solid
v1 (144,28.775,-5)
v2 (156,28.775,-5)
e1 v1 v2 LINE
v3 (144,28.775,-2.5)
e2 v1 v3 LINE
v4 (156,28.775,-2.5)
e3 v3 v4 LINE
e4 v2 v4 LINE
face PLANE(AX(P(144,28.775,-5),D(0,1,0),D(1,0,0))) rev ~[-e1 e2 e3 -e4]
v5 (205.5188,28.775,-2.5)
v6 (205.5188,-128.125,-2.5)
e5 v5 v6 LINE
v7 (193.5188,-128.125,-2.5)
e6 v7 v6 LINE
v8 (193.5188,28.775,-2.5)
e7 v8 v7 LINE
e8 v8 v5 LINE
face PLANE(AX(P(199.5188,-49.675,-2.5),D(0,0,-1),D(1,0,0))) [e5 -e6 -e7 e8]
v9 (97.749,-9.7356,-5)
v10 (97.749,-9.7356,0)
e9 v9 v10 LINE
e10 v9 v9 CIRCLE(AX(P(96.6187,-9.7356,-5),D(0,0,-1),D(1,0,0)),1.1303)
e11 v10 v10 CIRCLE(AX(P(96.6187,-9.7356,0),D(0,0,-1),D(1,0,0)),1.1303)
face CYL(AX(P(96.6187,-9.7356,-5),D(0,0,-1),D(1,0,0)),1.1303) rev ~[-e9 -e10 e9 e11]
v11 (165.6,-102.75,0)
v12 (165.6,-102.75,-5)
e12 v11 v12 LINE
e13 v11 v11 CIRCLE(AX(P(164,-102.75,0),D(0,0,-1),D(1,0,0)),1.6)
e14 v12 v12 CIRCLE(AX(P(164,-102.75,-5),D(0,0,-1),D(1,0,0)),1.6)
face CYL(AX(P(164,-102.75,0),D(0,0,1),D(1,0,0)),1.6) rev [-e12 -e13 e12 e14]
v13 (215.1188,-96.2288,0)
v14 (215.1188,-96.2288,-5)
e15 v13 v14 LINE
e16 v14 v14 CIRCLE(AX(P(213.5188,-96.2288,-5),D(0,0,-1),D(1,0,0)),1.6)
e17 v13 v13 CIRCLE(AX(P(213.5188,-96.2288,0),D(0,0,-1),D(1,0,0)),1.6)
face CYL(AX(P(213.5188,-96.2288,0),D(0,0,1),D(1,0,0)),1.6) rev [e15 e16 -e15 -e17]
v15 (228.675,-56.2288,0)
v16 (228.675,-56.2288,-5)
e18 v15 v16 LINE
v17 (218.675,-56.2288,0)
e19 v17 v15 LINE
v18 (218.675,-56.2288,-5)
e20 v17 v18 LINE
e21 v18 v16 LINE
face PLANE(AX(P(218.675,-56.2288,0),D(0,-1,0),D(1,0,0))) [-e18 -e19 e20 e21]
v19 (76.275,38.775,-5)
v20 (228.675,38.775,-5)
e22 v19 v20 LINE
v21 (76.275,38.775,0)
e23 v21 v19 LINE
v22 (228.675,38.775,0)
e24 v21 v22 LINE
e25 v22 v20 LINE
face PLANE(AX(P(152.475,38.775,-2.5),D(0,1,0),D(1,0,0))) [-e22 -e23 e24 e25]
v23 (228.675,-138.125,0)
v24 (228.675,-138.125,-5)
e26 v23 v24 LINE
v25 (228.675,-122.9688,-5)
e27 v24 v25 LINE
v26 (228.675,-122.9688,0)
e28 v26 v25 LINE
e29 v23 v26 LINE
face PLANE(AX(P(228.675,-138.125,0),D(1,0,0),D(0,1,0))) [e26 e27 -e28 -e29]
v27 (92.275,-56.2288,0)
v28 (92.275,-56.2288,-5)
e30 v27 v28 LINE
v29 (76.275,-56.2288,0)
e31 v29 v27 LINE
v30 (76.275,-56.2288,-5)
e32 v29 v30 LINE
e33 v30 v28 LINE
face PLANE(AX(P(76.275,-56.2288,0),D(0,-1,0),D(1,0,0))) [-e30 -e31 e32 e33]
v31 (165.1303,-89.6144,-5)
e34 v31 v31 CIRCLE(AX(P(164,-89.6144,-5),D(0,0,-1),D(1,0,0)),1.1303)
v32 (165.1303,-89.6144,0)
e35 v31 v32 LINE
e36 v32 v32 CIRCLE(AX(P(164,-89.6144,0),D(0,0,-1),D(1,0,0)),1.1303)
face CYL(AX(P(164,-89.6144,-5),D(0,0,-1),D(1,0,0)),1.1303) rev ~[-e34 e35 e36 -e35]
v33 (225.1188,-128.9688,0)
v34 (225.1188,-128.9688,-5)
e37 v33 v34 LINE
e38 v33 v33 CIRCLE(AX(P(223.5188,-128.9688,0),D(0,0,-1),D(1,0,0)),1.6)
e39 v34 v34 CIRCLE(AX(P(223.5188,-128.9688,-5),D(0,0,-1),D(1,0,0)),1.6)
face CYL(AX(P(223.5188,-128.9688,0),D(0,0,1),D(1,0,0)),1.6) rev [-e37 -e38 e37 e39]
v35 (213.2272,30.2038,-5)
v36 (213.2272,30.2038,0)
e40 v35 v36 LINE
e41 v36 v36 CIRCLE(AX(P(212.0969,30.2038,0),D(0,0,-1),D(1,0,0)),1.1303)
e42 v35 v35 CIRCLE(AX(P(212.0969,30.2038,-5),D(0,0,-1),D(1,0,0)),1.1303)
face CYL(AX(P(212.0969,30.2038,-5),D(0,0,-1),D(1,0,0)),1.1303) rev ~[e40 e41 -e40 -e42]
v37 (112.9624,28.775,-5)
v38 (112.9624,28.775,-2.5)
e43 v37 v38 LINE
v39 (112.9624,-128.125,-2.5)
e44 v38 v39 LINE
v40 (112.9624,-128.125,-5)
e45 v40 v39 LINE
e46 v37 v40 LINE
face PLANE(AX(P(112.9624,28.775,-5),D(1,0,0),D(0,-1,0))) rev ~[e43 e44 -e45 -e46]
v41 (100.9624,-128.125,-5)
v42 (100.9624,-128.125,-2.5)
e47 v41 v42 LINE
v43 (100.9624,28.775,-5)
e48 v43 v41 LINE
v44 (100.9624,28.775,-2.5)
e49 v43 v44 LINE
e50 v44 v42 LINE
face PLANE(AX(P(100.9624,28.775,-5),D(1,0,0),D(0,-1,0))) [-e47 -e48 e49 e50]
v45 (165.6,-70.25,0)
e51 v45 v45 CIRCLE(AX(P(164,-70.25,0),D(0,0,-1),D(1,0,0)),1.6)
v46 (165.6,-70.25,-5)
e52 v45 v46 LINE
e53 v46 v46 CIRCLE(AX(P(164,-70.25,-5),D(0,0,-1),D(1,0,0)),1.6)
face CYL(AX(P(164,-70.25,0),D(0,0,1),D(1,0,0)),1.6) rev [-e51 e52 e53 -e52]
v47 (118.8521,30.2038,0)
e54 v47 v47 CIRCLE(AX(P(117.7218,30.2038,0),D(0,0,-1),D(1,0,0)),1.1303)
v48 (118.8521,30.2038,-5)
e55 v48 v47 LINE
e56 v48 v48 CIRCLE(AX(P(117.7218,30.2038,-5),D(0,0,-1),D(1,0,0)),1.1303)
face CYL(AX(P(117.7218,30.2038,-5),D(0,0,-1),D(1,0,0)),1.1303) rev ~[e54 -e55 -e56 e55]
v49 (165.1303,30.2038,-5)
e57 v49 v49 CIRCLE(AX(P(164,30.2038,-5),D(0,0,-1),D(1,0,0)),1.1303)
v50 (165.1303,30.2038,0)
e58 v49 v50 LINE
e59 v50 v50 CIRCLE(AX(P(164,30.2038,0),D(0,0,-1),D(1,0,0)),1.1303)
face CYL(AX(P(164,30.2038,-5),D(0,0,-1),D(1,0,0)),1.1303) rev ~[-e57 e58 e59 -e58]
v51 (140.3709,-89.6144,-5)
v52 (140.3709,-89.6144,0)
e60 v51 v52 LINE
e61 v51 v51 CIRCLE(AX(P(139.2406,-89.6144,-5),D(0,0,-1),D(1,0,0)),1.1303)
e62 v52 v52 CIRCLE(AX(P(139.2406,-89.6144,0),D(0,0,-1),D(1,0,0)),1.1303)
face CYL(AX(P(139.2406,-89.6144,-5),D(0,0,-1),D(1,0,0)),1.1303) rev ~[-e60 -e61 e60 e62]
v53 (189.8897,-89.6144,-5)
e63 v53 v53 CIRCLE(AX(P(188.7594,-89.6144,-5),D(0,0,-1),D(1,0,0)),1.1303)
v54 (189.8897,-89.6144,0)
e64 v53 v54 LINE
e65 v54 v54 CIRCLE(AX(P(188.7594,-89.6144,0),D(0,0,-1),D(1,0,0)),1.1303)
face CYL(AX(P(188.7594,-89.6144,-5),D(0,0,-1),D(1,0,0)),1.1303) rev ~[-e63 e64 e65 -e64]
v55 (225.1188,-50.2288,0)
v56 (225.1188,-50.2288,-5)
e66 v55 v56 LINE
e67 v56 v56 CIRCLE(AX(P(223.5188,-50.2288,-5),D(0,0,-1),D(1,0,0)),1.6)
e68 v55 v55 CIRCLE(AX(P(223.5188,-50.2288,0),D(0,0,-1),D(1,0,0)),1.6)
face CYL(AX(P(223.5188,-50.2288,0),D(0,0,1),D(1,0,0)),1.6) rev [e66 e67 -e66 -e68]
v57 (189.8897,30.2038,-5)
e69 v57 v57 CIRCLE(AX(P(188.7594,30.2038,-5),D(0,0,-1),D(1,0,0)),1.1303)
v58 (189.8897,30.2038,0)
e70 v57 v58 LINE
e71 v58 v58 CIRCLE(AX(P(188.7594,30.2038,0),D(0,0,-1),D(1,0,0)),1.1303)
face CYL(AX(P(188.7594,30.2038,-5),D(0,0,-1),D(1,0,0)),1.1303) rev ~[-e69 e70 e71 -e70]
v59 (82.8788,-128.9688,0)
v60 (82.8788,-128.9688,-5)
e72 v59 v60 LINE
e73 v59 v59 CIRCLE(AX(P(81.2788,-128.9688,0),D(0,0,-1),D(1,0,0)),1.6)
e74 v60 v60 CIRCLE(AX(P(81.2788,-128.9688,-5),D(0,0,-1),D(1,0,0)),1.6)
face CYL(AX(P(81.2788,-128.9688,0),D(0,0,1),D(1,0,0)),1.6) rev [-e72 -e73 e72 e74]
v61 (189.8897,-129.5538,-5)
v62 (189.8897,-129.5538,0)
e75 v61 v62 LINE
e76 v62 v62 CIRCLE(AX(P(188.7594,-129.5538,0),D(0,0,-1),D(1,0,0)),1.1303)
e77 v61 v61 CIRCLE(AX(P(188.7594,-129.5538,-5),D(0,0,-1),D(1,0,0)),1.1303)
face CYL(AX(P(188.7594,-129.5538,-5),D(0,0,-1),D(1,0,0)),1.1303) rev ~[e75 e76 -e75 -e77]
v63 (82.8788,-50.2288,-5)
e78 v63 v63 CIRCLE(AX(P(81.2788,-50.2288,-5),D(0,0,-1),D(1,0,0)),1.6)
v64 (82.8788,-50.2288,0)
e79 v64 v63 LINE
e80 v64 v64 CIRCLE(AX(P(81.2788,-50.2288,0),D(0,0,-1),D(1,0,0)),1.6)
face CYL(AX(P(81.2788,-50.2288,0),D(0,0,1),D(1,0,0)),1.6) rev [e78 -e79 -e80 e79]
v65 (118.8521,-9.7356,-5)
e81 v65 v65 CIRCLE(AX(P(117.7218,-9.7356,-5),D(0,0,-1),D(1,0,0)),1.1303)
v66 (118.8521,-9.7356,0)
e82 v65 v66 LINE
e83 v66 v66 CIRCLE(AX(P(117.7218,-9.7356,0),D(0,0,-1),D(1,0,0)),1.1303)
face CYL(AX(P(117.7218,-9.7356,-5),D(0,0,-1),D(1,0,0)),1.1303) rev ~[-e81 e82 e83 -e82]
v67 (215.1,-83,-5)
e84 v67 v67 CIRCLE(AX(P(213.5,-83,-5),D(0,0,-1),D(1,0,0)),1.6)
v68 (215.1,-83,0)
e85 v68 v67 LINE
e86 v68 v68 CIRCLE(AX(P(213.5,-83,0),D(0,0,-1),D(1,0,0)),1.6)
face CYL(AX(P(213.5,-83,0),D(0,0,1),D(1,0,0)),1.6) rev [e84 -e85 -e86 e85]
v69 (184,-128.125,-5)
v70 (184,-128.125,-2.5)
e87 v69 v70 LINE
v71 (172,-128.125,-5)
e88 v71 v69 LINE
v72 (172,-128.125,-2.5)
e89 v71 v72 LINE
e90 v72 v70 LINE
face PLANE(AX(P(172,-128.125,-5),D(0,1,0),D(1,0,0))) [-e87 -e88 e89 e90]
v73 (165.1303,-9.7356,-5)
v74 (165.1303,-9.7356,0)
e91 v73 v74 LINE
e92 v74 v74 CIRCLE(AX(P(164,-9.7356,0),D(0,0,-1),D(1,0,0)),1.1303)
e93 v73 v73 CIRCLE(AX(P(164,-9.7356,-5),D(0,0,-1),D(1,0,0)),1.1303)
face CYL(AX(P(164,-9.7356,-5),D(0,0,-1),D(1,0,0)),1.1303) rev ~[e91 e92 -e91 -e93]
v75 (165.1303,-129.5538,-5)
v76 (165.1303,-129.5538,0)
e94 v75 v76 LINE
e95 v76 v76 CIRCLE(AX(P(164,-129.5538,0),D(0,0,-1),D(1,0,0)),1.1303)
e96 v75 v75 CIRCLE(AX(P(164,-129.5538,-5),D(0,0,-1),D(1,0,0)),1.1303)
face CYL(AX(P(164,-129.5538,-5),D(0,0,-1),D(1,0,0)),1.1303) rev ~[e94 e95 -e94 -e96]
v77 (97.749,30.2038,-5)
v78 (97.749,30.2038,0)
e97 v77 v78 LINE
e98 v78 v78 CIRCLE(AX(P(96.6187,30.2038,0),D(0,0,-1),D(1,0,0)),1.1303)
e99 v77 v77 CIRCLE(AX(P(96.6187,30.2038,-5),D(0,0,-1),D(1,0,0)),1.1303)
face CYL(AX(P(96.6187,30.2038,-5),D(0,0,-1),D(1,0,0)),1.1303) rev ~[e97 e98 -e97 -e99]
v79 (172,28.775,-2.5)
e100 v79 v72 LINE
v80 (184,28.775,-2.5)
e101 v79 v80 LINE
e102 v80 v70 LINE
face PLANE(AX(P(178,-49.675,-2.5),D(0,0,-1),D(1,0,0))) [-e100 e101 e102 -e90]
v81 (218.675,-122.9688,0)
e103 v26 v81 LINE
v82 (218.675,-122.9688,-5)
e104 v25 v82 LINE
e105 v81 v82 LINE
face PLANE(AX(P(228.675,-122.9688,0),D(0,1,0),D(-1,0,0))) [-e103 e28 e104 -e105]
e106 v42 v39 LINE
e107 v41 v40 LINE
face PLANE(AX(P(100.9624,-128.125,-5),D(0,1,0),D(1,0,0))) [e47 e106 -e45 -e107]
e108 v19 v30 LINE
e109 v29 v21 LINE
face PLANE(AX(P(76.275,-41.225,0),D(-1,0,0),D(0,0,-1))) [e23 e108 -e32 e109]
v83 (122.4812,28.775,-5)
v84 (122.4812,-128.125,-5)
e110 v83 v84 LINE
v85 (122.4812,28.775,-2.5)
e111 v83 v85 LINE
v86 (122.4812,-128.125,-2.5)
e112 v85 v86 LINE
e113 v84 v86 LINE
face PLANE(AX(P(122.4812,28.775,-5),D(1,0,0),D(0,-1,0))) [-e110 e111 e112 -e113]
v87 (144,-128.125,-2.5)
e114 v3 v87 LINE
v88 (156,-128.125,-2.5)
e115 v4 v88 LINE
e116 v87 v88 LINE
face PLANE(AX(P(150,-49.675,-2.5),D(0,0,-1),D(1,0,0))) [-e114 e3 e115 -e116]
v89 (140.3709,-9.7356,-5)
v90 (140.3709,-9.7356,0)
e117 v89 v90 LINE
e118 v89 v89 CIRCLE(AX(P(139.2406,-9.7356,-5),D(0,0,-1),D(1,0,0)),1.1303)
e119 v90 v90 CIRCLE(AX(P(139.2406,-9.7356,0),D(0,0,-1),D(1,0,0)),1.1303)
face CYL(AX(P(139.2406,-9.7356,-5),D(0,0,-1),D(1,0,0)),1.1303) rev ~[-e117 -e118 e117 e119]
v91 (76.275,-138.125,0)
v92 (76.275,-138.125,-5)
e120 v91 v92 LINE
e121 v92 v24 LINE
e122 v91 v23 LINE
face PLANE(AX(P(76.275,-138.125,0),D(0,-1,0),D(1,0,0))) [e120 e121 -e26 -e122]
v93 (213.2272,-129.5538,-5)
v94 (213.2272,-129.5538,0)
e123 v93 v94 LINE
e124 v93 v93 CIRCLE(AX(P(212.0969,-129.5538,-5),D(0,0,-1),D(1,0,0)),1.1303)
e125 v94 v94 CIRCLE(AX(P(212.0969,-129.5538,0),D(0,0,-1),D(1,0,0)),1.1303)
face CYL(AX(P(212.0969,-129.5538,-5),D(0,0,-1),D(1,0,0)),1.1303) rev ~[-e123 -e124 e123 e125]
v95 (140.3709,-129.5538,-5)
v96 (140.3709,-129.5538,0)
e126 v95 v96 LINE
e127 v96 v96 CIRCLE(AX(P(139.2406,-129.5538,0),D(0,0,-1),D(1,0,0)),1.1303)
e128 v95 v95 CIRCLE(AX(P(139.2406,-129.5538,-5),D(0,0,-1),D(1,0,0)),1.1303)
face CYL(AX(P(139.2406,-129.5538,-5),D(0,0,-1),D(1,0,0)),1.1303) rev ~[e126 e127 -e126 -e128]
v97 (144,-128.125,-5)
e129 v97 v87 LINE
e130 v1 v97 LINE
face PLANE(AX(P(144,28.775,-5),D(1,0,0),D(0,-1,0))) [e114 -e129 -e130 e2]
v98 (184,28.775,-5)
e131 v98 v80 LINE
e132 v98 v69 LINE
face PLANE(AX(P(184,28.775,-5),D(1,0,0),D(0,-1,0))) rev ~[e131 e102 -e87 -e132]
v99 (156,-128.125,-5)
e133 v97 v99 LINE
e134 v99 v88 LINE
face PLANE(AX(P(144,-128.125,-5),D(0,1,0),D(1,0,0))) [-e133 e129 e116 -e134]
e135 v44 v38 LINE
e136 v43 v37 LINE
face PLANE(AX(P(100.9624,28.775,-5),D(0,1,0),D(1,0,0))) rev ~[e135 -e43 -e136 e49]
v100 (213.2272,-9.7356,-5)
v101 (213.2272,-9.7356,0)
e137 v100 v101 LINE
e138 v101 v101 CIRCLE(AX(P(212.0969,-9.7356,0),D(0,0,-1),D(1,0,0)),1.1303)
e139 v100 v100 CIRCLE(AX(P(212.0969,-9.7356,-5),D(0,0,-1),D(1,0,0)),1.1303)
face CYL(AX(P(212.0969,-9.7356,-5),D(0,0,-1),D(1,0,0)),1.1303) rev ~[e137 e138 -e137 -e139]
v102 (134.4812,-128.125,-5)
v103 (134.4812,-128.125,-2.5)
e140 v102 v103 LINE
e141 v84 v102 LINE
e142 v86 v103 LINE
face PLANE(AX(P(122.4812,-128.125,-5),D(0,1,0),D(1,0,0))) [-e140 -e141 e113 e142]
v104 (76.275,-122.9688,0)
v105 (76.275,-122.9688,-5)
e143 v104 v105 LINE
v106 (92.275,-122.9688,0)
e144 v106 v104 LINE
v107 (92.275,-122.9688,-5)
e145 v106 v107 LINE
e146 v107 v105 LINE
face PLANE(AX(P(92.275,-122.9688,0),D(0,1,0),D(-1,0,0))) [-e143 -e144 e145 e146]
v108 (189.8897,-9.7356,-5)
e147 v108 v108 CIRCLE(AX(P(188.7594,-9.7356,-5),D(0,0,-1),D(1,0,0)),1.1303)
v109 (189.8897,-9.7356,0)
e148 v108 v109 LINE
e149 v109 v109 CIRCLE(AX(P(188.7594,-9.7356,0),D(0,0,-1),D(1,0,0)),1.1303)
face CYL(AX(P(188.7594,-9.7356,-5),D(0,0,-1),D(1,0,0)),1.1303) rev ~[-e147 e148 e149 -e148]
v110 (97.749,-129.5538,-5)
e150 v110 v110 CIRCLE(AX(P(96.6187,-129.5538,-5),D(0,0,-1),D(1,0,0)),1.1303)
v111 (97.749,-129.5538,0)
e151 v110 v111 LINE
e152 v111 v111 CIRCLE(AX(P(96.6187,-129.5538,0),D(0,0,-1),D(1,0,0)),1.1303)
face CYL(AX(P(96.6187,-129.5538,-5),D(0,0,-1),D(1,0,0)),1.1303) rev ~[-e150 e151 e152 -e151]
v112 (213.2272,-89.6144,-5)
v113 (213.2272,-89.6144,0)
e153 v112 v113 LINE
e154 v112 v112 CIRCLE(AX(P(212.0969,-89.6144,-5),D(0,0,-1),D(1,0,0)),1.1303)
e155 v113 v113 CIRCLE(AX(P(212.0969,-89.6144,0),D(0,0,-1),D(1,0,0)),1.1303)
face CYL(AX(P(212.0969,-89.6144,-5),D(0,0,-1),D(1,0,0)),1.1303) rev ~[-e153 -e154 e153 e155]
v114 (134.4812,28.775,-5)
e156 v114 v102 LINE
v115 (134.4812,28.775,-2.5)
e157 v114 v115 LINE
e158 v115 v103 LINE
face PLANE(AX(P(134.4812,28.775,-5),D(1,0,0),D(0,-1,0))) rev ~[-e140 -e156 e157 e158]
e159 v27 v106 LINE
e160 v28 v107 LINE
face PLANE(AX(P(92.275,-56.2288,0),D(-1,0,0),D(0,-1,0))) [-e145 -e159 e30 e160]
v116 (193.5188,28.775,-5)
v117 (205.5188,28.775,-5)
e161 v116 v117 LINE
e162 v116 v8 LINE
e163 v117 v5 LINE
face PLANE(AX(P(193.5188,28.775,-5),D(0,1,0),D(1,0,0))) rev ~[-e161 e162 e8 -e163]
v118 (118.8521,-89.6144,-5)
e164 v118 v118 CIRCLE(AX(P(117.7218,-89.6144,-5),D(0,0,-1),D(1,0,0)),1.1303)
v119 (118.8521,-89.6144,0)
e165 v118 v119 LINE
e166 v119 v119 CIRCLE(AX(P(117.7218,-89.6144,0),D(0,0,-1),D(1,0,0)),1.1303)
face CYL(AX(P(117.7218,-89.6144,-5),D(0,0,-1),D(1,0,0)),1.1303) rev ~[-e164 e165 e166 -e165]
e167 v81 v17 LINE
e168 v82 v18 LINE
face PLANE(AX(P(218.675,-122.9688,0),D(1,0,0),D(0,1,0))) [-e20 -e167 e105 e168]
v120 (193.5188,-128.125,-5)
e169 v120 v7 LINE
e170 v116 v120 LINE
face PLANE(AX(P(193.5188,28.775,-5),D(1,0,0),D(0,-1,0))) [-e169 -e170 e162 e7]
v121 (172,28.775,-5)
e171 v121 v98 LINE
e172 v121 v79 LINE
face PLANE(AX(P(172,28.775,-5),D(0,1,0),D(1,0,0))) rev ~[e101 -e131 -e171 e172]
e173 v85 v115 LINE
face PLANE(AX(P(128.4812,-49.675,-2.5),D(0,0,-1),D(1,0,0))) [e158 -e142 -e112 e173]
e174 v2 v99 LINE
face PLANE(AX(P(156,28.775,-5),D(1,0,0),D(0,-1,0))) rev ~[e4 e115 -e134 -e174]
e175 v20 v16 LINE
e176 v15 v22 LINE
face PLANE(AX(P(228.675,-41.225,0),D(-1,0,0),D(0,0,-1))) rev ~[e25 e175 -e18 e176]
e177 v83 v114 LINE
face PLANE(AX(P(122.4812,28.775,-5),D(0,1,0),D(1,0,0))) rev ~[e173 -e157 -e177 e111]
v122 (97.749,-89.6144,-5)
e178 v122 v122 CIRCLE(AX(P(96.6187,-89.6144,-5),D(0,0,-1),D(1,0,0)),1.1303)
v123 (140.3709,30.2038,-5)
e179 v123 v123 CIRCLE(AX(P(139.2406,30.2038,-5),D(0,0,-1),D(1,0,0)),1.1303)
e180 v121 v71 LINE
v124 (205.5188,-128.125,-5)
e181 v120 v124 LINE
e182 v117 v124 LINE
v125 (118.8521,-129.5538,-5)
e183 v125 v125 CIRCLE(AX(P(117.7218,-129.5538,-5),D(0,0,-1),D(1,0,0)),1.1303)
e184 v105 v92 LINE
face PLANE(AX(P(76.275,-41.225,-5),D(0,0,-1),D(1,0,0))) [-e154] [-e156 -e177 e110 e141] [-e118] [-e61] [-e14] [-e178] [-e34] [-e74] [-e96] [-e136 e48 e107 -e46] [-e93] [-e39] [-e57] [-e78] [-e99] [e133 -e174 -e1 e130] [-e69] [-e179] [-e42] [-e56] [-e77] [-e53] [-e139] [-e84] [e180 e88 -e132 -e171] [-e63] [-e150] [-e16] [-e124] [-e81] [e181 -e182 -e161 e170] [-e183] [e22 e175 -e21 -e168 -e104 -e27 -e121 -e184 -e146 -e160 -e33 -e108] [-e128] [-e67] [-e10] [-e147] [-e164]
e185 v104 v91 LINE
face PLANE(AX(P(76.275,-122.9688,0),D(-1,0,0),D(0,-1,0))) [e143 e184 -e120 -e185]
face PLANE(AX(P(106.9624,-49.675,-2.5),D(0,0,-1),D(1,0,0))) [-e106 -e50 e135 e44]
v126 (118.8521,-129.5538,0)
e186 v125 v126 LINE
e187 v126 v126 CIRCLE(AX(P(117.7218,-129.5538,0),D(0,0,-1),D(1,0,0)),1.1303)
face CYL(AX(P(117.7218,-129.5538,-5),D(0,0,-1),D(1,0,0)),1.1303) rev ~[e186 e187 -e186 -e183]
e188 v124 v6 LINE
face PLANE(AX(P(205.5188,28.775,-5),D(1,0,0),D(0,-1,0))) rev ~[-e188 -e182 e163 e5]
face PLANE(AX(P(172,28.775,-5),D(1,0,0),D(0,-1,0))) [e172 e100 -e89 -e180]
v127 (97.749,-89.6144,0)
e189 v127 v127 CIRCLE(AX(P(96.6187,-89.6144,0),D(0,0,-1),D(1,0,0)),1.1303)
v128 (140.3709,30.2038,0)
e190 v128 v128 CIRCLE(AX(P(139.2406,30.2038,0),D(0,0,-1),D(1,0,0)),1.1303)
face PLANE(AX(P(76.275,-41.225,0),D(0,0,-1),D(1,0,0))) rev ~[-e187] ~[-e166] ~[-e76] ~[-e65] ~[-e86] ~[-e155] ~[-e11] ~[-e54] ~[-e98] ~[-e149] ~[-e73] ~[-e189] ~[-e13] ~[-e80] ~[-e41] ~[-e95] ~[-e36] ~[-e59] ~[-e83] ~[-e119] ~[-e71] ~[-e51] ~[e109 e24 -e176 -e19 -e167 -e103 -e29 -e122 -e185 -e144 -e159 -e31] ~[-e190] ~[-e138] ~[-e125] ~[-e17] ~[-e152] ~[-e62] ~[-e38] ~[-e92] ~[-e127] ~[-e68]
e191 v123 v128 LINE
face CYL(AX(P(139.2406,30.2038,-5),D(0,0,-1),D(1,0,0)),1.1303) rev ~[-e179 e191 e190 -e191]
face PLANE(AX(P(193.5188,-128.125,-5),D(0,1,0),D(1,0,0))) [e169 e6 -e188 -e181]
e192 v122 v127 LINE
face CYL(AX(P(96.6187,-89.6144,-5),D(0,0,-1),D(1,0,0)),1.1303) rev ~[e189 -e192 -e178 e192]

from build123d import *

# Parameters (mm, degrees)
SKETCH_R             = 1.6
PAD_DEPTH            = 5
PAD_FACE8_W          = 152.4
PAD_FACE8_H          = 5
PAD001_DEPTH         = 80
SKETCH001_W          = 12
SKETCH001_H          = 156.9
POCKET_DEPTH         = 2.5
SKETCH002_W          = 12
SKETCH002_H          = 156.9
POCKET001_DEPTH      = 2.5
SKETCH003_W          = 12
SKETCH003_H          = 156.9
POCKET002_DEPTH      = 2.5
SKETCH004_W          = 12
SKETCH004_H          = 156.9
POCKET003_DEPTH      = 2.5
SKETCH005_W          = 12
SKETCH005_H          = 156.9
POCKET004_DEPTH      = 2.5
SKETCH006_R          = 1.1303
POCKET005_DEPTH      = 5.001
POCKET005_DEPTH_BACK = 0.001


with BuildPart() as part:
    # Sketch (on Face12378 of Binder) → Pad (new body)
    with BuildSketch(Plane(origin=(0, 0, 0), x_dir=(1, 0, 0), z_dir=(0, 0, -1))):
        Polygon((76.275, 138.125), (228.675, 138.125), (228.675, 122.9688), (218.675, 122.9688), (218.675, 56.2288), (228.675, 56.2288), (228.675, 41.225), (76.275, 41.225), (76.275, 56.2288), (92.275, 56.2288), (92.275, 122.9688), (76.275, 122.9688), align=None)
        with Locations((81.2788, 128.9688)):
            Circle(SKETCH_R, mode=Mode.SUBTRACT)
        with Locations((223.5188, 128.9688)):
            Circle(SKETCH_R, mode=Mode.SUBTRACT)
        with Locations((223.5188, 50.2288)):
            Circle(SKETCH_R, mode=Mode.SUBTRACT)
        with Locations((81.2788, 50.2288)):
            Circle(SKETCH_R, mode=Mode.SUBTRACT)
        with Locations((164, 102.75)):
            Circle(SKETCH_R, mode=Mode.SUBTRACT)
        with Locations((164, 70.25)):
            Circle(SKETCH_R, mode=Mode.SUBTRACT)
        with Locations((213.5, 83)):
            Circle(SKETCH_R, mode=Mode.SUBTRACT)
        with Locations((213.5188, 96.2288)):
            Circle(SKETCH_R, mode=Mode.SUBTRACT)
    extrude(amount=PAD_DEPTH)

    # Pad Face8 → Pad001 (add)
    with BuildSketch(Plane(origin=(152.475, -41.225, -2.5), x_dir=(1, 0, 0), z_dir=(0, 1, 0))):
        Rectangle(PAD_FACE8_W, PAD_FACE8_H)
    extrude(amount=PAD001_DEPTH)

    # Sketch001 (on Face23 of Pad001) → Pocket (cut)
    with BuildSketch(Plane(origin=(0, 0, -5), x_dir=(1, 0, 0), z_dir=(0, 0, -1))):
        with Locations((199.5188, 49.675)):
            Rectangle(SKETCH001_W, SKETCH001_H)
    extrude(amount=-POCKET_DEPTH, mode=Mode.SUBTRACT)

    # Sketch002 (on Face23 of Pocket) → Pocket001 (cut)
    with BuildSketch(Plane(origin=(0, 0, -5), x_dir=(1, 0, 0), z_dir=(0, 0, -1))):
        with Locations((178, 49.675)):
            Rectangle(SKETCH002_W, SKETCH002_H)
    extrude(amount=-POCKET001_DEPTH, mode=Mode.SUBTRACT)

    # Sketch003 (on Face5 of Pocket001) → Pocket002 (cut)
    with BuildSketch(Plane(origin=(0, 0, -5), x_dir=(1, 0, 0), z_dir=(0, 0, -1))):
        with Locations((150, 49.675)):
            Rectangle(SKETCH003_W, SKETCH003_H)
    extrude(amount=-POCKET002_DEPTH, mode=Mode.SUBTRACT)

    # Sketch004 (on Face5 of Pocket002) → Pocket003 (cut)
    with BuildSketch(Plane(origin=(0, 0, -5), x_dir=(1, 0, 0), z_dir=(0, 0, -1))):
        with Locations((128.4812, 49.675)):
            Rectangle(SKETCH004_W, SKETCH004_H)
    extrude(amount=-POCKET003_DEPTH, mode=Mode.SUBTRACT)

    # Sketch005 (on Face5 of Pocket003) → Pocket004 (cut)
    with BuildSketch(Plane(origin=(0, 0, -5), x_dir=(1, 0, 0), z_dir=(0, 0, -1))):
        with Locations((106.9624, 49.675)):
            Rectangle(SKETCH005_W, SKETCH005_H)
    extrude(amount=-POCKET004_DEPTH, mode=Mode.SUBTRACT)

    # Sketch006 (on Face5 of Pocket004) → Pocket005 (cut, two sides)
    with BuildSketch(Plane(origin=(0, 0, -5), x_dir=(1, 0, 0), z_dir=(0, 0, -1))) as pocket005_sk:
        with Locations((212.0969, 129.5538)):
            Circle(SKETCH006_R)
        with Locations((212.0969, 89.6144)):
            Circle(SKETCH006_R)
        with Locations((212.0969, 89.6144)):
            Circle(SKETCH006_R)
        with Locations((212.0969, 9.7356)):
            Circle(SKETCH006_R)
        with Locations((212.0969, -30.2038)):
            Circle(SKETCH006_R)
        with Locations((164, 89.6144)):
            Circle(SKETCH006_R)
        with Locations((188.7594, 89.6144)):
            Circle(SKETCH006_R)
        with Locations((139.2406, 89.6144)):
            Circle(SKETCH006_R)
        with Locations((117.7218, 89.6144)):
            Circle(SKETCH006_R)
        with Locations((96.6187, 89.6144)):
            Circle(SKETCH006_R)
        with Locations((96.6187, 129.5538)):
            Circle(SKETCH006_R)
        with Locations((117.7218, 129.5538)):
            Circle(SKETCH006_R)
        with Locations((139.2406, 129.5538)):
            Circle(SKETCH006_R)
        with Locations((164, 129.5538)):
            Circle(SKETCH006_R)
        with Locations((188.7594, 129.5538)):
            Circle(SKETCH006_R)
        with Locations((96.6187, 89.6144)):
            Circle(SKETCH006_R)
        with Locations((117.7218, 89.6144)):
            Circle(SKETCH006_R)
        with Locations((139.2406, 89.6144)):
            Circle(SKETCH006_R)
        with Locations((164, 89.6144)):
            Circle(SKETCH006_R)
        with Locations((188.7594, 89.6144)):
            Circle(SKETCH006_R)
        with Locations((164, 9.7356)):
            Circle(SKETCH006_R)
        with Locations((139.2406, 9.7356)):
            Circle(SKETCH006_R)
        with Locations((117.7218, 9.7356)):
            Circle(SKETCH006_R)
        with Locations((96.6187, 9.7356)):
            Circle(SKETCH006_R)
        with Locations((96.6187, -30.2038)):
            Circle(SKETCH006_R)
        with Locations((117.7218, -30.2038)):
            Circle(SKETCH006_R)
        with Locations((139.2406, -30.2038)):
            Circle(SKETCH006_R)
        with Locations((164, -30.2038)):
            Circle(SKETCH006_R)
        with Locations((188.7594, -30.2038)):
            Circle(SKETCH006_R)
        with Locations((188.7594, 9.7356)):
            Circle(SKETCH006_R)
    extrude(amount=-POCKET005_DEPTH, mode=Mode.SUBTRACT)
    extrude(pocket005_sk.sketch, amount=POCKET005_DEPTH_BACK, mode=Mode.SUBTRACT)


solid = part.part
